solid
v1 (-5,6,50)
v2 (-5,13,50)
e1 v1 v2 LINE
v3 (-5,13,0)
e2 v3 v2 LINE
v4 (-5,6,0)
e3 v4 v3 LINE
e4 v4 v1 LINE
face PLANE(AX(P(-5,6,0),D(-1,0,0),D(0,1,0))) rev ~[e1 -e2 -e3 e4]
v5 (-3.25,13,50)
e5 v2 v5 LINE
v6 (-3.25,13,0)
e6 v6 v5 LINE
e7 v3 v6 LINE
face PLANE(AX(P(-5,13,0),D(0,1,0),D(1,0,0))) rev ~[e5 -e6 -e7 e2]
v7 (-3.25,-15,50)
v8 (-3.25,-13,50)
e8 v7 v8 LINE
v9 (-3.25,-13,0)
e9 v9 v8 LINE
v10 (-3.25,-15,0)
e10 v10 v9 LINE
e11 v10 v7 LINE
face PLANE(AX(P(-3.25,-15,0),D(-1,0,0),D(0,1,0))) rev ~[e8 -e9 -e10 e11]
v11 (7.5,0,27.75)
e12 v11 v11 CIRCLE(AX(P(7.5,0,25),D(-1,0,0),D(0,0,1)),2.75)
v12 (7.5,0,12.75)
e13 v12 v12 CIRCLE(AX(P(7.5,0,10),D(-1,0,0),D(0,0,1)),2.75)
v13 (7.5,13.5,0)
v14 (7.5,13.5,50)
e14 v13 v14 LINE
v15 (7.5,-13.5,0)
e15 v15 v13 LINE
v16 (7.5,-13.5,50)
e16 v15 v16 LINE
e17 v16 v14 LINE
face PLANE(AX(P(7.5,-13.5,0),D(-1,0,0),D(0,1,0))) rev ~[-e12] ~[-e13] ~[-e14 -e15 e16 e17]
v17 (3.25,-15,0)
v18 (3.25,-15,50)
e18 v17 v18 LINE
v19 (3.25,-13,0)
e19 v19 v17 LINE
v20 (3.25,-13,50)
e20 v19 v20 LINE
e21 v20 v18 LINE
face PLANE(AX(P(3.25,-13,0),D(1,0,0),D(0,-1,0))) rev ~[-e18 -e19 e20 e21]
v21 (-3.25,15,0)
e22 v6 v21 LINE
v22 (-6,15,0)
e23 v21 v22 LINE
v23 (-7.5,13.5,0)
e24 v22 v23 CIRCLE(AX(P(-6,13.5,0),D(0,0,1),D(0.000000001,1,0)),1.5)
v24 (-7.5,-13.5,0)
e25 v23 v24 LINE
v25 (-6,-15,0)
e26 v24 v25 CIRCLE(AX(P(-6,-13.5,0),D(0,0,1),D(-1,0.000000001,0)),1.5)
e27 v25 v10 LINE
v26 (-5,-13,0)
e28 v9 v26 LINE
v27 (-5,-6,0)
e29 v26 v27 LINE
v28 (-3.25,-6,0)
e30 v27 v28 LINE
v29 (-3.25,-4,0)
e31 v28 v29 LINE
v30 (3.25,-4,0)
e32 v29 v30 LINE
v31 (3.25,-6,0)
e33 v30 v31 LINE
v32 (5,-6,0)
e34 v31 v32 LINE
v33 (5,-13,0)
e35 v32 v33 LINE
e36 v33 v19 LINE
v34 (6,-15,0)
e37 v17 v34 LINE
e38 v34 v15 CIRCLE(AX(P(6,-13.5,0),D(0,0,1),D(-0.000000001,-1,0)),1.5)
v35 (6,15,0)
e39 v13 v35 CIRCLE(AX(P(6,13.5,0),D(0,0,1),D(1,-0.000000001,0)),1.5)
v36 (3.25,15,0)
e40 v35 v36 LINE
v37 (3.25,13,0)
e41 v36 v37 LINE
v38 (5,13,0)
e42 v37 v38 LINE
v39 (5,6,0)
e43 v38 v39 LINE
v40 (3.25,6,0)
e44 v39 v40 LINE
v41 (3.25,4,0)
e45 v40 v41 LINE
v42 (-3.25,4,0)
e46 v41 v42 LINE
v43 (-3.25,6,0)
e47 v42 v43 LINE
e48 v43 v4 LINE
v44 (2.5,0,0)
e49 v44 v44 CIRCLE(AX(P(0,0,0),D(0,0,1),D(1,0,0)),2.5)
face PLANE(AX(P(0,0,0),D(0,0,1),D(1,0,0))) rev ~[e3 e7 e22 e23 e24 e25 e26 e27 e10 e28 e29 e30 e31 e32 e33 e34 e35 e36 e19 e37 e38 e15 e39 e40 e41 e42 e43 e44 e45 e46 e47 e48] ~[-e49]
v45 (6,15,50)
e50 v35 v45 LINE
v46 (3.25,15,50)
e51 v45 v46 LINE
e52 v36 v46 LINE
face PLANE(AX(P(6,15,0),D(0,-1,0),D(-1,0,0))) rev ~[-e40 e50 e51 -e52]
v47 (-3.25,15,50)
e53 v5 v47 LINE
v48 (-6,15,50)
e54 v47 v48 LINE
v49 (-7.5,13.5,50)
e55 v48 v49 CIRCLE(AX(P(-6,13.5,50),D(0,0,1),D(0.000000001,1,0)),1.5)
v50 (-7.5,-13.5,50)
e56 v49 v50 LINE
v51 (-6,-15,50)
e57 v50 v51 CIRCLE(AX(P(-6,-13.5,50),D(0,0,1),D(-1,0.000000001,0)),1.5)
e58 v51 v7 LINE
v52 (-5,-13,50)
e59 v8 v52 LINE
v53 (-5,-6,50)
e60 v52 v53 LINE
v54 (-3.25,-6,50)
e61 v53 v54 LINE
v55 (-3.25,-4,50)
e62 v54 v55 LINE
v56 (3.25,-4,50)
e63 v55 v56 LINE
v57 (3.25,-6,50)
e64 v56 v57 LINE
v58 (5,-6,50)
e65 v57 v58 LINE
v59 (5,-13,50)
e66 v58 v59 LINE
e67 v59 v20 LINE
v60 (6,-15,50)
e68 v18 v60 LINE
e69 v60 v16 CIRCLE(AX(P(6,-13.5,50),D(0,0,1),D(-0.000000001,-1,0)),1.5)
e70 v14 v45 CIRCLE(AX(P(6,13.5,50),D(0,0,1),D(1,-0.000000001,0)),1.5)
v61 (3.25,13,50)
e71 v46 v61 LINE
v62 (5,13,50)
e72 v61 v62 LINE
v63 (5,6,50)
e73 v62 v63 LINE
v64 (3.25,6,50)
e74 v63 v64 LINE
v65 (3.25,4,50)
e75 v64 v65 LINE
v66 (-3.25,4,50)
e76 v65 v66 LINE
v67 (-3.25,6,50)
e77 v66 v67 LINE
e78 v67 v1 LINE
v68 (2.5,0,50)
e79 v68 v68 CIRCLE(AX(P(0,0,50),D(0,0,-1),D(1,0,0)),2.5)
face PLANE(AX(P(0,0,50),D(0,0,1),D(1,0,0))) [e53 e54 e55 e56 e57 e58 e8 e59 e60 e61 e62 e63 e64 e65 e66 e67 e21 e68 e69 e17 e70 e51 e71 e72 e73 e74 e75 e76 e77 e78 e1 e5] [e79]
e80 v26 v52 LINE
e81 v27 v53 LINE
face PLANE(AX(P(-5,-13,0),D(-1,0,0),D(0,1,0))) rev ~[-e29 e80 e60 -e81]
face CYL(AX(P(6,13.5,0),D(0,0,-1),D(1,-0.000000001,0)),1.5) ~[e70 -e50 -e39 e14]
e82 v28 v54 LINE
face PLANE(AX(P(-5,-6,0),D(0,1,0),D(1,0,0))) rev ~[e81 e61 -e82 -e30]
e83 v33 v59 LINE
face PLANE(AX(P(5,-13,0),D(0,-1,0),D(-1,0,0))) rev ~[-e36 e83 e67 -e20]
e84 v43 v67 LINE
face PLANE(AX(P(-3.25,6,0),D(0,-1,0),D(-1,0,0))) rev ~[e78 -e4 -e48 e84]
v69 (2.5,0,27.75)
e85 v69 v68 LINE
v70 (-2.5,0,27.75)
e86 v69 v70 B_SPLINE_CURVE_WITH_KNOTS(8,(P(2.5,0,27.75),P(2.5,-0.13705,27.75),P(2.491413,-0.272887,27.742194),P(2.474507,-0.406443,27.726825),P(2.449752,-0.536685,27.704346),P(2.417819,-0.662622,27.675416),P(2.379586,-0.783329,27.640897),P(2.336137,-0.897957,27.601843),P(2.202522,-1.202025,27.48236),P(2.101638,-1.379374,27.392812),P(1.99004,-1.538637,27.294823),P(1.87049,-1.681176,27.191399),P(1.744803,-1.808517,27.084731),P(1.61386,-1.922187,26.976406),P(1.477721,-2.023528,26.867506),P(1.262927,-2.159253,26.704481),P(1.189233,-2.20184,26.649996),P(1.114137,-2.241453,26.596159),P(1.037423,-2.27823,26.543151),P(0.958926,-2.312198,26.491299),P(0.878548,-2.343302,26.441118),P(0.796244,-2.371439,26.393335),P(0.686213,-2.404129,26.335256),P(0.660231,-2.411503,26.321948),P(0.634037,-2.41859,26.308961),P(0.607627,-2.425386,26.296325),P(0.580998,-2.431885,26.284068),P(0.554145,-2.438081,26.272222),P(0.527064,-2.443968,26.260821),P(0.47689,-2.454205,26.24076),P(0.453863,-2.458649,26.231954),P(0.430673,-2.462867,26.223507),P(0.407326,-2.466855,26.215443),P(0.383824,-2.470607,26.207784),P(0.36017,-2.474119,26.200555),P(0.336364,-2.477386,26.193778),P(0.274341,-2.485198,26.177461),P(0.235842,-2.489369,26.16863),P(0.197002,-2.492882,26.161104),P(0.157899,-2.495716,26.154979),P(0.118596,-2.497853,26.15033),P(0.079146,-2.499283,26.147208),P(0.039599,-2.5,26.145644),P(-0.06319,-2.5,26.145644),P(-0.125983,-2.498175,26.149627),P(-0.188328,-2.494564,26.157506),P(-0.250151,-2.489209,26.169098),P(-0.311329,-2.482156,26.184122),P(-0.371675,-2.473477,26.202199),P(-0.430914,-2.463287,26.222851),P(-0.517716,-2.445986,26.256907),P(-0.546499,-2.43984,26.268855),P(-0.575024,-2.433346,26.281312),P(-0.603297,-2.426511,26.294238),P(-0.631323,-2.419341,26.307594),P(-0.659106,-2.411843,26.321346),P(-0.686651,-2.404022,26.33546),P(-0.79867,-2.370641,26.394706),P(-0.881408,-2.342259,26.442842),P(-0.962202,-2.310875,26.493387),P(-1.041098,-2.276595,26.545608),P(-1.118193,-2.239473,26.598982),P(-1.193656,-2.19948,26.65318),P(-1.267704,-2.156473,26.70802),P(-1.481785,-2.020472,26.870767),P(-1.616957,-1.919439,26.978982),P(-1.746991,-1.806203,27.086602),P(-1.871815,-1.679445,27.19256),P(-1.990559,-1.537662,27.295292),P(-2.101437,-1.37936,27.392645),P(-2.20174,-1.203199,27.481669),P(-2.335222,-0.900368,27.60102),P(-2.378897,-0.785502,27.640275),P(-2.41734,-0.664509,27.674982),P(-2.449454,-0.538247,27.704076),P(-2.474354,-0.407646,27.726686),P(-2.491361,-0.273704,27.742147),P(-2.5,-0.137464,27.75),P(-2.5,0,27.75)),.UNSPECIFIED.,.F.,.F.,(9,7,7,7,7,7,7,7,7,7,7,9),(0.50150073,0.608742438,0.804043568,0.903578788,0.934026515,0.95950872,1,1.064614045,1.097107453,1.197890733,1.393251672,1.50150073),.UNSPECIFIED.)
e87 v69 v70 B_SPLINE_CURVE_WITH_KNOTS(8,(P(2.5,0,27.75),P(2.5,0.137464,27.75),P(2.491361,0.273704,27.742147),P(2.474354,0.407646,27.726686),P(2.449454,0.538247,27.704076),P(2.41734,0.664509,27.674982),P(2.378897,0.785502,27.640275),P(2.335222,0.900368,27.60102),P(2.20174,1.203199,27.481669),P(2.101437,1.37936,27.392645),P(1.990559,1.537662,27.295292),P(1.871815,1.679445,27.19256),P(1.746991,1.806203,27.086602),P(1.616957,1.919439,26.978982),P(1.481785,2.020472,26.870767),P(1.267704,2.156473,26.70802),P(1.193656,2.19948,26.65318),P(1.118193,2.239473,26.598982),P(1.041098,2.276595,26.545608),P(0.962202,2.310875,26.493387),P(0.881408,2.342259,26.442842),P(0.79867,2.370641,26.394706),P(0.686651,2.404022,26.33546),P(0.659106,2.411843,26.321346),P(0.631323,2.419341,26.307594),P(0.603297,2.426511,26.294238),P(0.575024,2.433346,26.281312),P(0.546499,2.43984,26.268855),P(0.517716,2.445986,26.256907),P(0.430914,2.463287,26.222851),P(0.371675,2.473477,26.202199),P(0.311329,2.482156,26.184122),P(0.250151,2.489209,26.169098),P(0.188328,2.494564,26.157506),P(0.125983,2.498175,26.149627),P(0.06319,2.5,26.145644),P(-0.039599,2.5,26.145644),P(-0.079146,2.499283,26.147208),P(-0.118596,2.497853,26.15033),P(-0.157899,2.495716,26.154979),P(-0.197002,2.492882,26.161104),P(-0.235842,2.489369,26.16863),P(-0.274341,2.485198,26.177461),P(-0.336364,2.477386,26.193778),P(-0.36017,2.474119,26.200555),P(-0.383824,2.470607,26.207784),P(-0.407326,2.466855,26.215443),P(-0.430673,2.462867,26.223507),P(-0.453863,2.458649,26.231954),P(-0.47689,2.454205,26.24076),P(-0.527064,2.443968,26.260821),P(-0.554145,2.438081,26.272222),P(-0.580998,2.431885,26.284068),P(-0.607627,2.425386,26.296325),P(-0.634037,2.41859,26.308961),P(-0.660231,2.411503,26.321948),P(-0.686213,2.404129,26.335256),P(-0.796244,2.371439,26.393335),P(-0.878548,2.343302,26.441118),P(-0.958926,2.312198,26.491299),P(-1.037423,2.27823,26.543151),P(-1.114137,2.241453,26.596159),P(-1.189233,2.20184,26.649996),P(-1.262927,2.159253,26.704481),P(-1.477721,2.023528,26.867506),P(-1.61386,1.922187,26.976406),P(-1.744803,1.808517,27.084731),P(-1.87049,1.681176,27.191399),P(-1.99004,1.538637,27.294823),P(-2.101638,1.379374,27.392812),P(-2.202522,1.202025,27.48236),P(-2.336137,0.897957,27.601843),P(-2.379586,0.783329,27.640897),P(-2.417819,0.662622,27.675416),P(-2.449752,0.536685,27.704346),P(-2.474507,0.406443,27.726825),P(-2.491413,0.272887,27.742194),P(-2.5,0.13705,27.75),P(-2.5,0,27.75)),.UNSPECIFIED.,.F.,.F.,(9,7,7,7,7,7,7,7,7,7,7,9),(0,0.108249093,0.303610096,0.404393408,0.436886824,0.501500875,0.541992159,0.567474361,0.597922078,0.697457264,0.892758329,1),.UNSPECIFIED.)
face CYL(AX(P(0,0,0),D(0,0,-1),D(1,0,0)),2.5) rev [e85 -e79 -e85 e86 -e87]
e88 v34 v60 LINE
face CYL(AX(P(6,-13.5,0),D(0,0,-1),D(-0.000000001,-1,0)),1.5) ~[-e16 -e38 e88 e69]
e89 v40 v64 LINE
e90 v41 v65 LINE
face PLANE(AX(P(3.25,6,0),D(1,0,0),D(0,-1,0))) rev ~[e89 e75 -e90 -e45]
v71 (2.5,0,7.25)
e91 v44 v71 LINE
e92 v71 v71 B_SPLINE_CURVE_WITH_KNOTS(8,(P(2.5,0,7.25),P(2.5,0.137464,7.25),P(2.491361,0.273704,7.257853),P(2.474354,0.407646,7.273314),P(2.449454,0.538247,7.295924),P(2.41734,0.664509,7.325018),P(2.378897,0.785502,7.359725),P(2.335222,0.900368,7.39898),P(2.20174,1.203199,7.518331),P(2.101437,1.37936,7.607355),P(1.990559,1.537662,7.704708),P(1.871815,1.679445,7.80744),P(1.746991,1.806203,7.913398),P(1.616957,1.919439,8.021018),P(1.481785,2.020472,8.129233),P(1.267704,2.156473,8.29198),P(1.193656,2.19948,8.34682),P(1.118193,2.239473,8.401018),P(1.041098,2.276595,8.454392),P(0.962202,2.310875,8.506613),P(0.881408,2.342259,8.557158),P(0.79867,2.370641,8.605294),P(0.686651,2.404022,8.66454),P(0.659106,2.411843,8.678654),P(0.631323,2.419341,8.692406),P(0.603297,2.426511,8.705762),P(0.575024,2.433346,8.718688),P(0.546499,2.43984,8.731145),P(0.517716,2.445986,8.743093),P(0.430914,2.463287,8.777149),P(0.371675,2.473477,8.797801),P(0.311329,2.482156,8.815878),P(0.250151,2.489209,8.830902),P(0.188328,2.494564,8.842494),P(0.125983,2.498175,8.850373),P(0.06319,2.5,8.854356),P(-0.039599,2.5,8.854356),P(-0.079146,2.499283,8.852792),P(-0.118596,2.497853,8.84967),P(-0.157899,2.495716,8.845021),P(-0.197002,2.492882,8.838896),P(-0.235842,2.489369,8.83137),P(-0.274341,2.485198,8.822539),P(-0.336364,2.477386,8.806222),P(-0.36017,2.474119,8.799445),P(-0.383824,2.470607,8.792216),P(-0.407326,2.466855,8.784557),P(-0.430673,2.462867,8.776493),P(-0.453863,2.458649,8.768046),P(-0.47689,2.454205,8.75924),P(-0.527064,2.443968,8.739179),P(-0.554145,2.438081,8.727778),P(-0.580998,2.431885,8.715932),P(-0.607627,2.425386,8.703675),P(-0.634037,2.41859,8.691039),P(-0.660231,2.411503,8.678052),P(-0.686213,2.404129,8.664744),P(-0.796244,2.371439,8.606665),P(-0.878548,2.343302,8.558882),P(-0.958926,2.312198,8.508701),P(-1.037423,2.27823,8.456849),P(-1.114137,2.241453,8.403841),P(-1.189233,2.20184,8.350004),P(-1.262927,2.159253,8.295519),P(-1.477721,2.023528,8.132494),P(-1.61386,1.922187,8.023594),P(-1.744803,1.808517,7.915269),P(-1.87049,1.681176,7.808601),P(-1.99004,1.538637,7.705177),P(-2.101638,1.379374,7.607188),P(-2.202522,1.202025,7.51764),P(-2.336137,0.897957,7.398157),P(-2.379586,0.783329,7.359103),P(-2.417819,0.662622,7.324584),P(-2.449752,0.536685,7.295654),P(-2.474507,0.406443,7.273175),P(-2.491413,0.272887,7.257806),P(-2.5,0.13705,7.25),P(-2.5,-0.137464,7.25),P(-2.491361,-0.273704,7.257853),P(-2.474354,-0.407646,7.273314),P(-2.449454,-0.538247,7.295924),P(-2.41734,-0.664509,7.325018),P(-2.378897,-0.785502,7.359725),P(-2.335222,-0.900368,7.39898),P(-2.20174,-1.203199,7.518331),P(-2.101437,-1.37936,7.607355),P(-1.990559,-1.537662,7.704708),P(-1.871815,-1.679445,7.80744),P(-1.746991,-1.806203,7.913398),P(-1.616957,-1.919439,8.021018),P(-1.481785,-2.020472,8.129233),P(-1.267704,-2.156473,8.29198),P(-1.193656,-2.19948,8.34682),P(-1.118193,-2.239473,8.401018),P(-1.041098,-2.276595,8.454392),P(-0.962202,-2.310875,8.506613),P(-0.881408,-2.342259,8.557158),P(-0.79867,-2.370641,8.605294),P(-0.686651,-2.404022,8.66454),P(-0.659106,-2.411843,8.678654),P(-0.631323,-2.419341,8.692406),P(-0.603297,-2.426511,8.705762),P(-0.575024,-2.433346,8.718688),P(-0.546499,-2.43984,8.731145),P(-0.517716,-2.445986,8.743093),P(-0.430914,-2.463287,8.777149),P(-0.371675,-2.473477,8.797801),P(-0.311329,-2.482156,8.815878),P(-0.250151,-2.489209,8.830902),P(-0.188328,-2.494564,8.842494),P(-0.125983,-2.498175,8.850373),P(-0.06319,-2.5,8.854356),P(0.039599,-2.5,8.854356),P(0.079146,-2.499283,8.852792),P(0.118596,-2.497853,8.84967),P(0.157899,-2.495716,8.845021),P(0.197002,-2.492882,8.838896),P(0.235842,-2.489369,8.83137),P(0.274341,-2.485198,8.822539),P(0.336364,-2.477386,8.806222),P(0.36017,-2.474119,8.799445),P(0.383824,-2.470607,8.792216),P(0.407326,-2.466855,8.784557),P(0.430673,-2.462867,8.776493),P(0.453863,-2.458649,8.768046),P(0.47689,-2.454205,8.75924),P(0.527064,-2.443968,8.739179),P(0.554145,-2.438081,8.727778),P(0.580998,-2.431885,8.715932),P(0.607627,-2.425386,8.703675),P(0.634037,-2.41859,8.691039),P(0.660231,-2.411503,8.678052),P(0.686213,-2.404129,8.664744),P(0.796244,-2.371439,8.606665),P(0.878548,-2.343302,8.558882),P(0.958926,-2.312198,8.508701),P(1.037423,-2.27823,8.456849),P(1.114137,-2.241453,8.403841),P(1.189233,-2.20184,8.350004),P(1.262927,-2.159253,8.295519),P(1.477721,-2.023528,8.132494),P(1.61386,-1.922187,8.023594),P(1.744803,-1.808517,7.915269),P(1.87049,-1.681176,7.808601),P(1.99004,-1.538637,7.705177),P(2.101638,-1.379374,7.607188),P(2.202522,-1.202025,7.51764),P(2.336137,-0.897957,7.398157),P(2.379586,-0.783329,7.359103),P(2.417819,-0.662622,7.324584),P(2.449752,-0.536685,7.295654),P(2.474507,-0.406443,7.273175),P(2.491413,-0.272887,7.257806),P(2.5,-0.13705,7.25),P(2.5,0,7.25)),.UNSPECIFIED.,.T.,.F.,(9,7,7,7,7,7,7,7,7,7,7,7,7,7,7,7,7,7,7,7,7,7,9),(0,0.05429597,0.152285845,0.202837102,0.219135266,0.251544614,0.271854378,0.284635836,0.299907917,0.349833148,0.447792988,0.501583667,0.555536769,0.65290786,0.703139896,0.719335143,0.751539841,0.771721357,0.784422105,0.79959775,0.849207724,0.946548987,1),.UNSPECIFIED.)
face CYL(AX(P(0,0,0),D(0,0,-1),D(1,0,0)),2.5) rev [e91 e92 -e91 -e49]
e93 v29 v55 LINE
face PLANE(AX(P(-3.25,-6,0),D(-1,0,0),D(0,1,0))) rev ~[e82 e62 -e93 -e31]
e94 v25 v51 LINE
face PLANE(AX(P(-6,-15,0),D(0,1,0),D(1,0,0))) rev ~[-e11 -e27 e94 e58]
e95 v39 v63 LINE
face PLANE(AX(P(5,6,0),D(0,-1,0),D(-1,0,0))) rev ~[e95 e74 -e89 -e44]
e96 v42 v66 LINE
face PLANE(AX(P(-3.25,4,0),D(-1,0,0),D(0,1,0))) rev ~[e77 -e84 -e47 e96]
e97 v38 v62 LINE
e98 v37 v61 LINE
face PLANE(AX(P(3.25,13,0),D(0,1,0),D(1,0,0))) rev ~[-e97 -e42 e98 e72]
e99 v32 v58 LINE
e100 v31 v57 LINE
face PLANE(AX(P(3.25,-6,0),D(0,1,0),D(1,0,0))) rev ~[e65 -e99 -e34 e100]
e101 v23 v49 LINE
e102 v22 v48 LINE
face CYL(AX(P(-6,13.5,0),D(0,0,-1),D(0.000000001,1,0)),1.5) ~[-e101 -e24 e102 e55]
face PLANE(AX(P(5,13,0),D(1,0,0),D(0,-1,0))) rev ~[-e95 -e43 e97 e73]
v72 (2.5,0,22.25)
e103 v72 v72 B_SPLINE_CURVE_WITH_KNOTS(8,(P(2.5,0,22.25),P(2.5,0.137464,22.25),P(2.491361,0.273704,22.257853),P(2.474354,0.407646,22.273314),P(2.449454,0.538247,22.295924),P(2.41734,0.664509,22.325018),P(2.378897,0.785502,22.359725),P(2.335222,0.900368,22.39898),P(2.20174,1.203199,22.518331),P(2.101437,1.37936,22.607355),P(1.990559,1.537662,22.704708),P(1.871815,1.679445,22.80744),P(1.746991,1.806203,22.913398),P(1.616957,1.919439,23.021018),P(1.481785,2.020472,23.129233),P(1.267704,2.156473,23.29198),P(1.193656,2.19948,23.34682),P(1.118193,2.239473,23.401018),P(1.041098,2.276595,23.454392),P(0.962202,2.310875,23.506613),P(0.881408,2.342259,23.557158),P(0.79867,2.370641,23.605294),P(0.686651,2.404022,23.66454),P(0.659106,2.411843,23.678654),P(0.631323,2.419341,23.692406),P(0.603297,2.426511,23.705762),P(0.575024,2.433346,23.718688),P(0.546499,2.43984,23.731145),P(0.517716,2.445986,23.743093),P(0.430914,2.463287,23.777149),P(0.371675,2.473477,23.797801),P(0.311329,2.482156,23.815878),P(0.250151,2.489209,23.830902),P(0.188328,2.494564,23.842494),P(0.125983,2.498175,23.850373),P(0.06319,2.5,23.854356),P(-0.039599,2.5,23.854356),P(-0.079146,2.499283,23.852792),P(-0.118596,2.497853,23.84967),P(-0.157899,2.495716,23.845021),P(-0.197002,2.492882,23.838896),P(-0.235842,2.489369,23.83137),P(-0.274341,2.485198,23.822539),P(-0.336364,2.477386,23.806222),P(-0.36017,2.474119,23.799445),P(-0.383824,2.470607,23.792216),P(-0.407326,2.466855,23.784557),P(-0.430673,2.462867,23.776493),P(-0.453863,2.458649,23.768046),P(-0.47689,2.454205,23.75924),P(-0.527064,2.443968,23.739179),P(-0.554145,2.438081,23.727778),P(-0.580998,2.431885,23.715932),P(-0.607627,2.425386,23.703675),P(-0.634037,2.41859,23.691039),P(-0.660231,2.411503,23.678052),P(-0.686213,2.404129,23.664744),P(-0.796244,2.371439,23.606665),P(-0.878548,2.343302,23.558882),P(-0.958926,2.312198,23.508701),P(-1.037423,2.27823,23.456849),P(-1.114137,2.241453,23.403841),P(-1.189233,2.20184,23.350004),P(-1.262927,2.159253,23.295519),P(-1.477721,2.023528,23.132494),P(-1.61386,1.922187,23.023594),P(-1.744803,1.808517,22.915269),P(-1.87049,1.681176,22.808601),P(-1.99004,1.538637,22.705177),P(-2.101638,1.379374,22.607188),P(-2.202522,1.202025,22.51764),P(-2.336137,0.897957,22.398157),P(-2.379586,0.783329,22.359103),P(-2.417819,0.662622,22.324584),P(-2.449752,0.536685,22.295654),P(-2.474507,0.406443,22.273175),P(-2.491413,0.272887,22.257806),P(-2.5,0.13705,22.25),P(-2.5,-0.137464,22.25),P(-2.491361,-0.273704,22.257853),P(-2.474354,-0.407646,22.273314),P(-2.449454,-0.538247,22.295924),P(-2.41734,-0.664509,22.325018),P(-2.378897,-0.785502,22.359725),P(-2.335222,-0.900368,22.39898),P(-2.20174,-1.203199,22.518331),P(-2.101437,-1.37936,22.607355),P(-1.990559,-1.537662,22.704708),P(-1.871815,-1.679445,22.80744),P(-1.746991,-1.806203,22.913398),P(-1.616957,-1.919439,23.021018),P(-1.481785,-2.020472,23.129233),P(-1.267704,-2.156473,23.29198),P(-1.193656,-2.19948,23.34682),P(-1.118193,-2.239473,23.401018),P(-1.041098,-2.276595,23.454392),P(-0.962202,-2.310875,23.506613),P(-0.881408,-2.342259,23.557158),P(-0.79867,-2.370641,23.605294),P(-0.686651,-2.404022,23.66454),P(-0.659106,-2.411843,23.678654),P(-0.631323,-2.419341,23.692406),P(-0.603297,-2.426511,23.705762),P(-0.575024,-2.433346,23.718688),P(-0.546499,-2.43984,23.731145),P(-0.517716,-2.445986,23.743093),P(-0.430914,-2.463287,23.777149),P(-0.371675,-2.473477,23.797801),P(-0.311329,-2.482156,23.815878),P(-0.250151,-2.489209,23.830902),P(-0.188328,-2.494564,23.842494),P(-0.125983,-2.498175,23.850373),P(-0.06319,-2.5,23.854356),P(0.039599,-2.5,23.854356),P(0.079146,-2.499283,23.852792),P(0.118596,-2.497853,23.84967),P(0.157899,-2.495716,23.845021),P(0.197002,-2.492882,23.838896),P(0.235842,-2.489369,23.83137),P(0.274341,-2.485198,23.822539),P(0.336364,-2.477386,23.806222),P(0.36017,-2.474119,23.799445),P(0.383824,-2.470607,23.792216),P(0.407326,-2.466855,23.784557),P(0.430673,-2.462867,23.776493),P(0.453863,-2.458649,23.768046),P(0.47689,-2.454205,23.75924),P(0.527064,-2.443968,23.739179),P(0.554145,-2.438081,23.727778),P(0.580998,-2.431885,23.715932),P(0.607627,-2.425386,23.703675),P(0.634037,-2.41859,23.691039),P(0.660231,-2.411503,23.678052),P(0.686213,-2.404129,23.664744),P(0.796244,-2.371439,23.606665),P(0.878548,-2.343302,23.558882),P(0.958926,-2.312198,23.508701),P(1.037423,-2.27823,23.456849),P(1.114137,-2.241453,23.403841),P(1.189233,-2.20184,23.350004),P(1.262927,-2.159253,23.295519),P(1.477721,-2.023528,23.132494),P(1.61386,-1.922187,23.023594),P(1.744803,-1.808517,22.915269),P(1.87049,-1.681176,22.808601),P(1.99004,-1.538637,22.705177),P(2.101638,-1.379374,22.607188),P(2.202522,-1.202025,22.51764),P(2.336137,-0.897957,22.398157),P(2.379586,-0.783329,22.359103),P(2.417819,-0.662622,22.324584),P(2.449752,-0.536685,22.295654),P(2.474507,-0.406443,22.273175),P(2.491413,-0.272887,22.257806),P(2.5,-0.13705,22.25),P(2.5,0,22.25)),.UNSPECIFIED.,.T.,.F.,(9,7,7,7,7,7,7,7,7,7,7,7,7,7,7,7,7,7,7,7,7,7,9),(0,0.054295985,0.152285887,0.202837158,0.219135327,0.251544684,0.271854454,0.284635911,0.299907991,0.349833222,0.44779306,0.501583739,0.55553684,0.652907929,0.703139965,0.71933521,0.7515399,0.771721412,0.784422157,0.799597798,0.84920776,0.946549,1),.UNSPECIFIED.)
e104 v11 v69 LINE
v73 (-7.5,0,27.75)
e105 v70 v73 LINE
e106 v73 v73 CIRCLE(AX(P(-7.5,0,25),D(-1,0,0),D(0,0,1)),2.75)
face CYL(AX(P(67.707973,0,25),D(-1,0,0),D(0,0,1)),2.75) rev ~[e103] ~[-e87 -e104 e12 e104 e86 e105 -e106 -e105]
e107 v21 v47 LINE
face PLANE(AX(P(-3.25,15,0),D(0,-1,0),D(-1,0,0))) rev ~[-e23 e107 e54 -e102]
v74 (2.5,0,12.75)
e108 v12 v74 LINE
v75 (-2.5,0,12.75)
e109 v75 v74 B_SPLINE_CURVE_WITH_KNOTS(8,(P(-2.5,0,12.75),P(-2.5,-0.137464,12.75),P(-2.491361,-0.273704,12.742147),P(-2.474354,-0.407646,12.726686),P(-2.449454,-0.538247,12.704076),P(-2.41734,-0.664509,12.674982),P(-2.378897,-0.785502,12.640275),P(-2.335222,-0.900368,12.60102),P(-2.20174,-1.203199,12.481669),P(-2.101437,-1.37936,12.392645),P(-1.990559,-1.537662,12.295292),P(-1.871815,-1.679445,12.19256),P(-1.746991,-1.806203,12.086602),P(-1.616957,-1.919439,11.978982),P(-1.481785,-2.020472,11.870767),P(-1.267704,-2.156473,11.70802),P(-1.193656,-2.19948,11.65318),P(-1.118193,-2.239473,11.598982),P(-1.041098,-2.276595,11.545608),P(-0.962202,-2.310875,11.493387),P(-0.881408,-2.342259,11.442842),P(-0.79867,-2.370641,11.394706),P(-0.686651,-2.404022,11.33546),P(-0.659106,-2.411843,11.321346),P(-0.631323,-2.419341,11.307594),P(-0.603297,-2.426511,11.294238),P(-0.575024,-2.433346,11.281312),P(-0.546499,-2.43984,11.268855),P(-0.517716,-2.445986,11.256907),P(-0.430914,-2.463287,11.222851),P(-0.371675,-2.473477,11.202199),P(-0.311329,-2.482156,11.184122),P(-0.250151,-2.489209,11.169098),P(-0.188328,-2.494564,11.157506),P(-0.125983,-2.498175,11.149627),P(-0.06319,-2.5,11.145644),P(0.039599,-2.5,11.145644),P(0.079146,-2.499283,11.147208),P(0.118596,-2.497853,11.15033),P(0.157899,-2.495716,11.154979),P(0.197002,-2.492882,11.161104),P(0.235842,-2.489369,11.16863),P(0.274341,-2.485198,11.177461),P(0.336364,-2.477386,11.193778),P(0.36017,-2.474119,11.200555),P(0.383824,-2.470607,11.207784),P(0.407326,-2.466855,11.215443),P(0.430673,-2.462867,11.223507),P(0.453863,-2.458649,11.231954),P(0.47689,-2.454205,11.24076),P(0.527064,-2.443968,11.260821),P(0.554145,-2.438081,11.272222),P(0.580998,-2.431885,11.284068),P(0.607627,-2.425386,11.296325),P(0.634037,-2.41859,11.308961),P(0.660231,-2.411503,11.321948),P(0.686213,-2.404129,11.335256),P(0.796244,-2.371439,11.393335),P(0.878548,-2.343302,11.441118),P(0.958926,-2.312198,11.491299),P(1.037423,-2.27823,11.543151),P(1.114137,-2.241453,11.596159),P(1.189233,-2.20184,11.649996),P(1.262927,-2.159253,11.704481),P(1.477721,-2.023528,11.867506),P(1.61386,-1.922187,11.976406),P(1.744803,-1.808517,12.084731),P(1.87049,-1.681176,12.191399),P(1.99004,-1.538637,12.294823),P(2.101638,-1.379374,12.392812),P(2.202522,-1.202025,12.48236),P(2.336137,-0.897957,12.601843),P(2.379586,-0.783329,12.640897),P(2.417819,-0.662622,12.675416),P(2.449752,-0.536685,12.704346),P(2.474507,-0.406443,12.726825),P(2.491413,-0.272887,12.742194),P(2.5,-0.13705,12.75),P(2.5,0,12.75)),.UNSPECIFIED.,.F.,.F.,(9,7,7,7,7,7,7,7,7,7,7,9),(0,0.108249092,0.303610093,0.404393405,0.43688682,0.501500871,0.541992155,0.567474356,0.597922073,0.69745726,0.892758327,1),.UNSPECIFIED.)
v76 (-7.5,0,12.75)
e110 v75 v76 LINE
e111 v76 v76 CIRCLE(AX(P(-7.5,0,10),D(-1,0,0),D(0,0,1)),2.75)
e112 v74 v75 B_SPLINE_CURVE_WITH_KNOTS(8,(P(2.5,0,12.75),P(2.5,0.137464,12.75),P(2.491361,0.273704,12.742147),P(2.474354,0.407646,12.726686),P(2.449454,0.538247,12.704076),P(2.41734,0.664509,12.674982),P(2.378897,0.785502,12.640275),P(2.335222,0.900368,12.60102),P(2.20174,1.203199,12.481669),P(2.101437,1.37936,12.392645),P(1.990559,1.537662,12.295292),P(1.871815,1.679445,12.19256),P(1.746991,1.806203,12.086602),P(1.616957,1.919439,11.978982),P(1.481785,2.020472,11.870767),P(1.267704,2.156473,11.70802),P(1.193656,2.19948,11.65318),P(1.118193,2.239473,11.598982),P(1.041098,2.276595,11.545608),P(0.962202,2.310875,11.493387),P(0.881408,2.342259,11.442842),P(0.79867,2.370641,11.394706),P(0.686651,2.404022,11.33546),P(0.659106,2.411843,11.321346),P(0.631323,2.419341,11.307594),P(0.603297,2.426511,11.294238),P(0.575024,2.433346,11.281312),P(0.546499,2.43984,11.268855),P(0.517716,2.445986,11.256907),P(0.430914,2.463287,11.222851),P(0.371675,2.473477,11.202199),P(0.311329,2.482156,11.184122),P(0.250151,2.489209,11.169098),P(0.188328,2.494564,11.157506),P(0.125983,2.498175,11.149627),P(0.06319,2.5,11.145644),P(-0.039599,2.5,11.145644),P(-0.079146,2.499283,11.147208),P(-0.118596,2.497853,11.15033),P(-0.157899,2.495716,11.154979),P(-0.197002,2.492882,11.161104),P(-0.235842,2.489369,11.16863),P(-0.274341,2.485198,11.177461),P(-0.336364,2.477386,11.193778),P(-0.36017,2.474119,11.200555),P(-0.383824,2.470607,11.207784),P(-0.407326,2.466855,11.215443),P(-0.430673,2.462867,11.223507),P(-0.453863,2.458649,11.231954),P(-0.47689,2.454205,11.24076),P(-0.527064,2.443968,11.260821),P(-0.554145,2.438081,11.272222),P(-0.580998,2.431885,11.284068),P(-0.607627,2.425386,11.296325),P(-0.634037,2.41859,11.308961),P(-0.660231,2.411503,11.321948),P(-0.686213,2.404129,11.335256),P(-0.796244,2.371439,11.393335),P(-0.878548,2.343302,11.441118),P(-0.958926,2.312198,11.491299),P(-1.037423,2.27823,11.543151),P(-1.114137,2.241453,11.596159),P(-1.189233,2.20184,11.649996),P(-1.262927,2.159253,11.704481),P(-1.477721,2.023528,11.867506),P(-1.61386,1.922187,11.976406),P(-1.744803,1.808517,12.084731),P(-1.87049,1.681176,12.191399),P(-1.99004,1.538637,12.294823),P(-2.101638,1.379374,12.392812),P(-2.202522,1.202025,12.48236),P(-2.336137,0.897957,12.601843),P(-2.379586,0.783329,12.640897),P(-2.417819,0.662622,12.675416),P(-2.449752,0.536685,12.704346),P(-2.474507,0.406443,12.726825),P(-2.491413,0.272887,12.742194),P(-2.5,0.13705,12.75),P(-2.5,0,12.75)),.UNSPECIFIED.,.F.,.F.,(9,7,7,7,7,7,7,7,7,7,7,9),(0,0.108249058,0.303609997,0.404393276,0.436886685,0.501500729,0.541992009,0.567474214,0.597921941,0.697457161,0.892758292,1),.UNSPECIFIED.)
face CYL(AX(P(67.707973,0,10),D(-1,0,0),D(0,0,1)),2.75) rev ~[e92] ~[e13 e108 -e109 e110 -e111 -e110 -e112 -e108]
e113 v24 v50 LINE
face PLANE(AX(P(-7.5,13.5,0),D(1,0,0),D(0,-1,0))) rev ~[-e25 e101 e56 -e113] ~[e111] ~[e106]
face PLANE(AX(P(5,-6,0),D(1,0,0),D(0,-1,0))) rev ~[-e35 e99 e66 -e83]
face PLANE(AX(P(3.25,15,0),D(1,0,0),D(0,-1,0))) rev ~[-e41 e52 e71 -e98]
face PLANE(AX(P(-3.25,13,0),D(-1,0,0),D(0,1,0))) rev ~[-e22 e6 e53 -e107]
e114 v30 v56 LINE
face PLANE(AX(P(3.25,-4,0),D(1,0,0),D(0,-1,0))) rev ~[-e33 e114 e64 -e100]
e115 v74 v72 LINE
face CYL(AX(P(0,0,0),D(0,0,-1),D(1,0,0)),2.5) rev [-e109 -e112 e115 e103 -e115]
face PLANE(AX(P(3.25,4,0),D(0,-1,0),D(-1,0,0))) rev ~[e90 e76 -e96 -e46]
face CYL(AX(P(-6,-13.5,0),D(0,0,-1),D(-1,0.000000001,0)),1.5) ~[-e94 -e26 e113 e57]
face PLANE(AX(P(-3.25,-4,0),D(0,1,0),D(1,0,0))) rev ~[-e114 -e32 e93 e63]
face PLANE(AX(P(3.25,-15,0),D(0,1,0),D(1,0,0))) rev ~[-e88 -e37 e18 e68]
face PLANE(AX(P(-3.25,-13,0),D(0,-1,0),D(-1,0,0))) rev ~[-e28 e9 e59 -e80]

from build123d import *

# Parameters (mm, degrees)
SKETCH1_R               = 2.5
EXTRUDE_1_DEPTH         = 50
HOLE_WIZARD_5_5_5_5_1_D = 5.5
HOLE_WIZARD_5_5_5_5_2_D = 5.5


with BuildPart() as part:
    # Sketch1 → 凸台-拉伸1 (new body)
    with BuildSketch(Plane.XY):
        with BuildLine():
            Line((-6, -15), (-3.25, -15))
            Line((-3.25, -15), (-3.25, -13))
            Line((-3.25, -13), (-5, -13))
            Line((-5, -13), (-5, -6))
            Line((-5, -6), (-3.25, -6))
            Line((-3.25, -6), (-3.25, -4))
            Line((-3.25, -4), (3.25, -4))
            Line((3.25, -4), (3.25, -6))
            Line((3.25, -6), (5, -6))
            Line((5, -6), (5, -13))
            Line((5, -13), (3.25, -13))
            Line((3.25, -13), (3.25, -15))
            Line((3.25, -15), (6, -15))
            ThreePointArc((6, -15), (7.060660172, -14.560660172), (7.5, -13.5))
            Line((7.5, -13.5), (7.5, 13.5))
            ThreePointArc((7.5, 13.5), (7.060660172, 14.560660172), (6, 15))
            Line((6, 15), (3.25, 15))
            Line((3.25, 15), (3.25, 13))
            Line((3.25, 13), (5, 13))
            Line((5, 13), (5, 6))
            Line((5, 6), (3.25, 6))
            Line((3.25, 6), (3.25, 4))
            Line((3.25, 4), (-3.25, 4))
            Line((-3.25, 4), (-3.25, 6))
            Line((-3.25, 6), (-5, 6))
            Line((-5, 6), (-5, 13))
            Line((-5, 13), (-3.25, 13))
            Line((-3.25, 13), (-3.25, 15))
            Line((-3.25, 15), (-6, 15))
            ThreePointArc((-6, 15), (-7.060660172, 14.560660172), (-7.5, 13.5))
            Line((-7.5, 13.5), (-7.5, -13.5))
            ThreePointArc((-7.5, -13.5), (-7.060660172, -14.560660172), (-6, -15))
        make_face()
        Circle(SKETCH1_R, mode=Mode.SUBTRACT)
    extrude(amount=EXTRUDE_1_DEPTH)

    # Ø5.5 (5.5) 直径孔1 (through all)
    with Locations(Plane(origin=(7.5, 0, 0), x_dir=(0, 0, -1), z_dir=(1, 0, 0))):
        with Locations((-25, 0)):
            Hole(HOLE_WIZARD_5_5_5_5_1_D / 2)

    # Ø5.5 (5.5) 直径孔2 (through all)
    with Locations(Plane(origin=(7.5, 0, 0), x_dir=(0, 0, -1), z_dir=(1, 0, 0))):
        with Locations((-10, 0)):
            Hole(HOLE_WIZARD_5_5_5_5_2_D / 2)

    # 草图6 → M6 螺纹孔1 (revolve, cut)
    with BuildSketch(Plane(origin=(0, 0, 50), x_dir=(0, -1, 0), z_dir=(1, 0, 0))):
        Polygon((0, 0), (0, 26.502151548), (2.5, 25), (2.5, 0), align=None)
    revolve(axis=Axis((0, 0, 56.35), (0, 0, -1)), mode=Mode.SUBTRACT)


solid = part.part
